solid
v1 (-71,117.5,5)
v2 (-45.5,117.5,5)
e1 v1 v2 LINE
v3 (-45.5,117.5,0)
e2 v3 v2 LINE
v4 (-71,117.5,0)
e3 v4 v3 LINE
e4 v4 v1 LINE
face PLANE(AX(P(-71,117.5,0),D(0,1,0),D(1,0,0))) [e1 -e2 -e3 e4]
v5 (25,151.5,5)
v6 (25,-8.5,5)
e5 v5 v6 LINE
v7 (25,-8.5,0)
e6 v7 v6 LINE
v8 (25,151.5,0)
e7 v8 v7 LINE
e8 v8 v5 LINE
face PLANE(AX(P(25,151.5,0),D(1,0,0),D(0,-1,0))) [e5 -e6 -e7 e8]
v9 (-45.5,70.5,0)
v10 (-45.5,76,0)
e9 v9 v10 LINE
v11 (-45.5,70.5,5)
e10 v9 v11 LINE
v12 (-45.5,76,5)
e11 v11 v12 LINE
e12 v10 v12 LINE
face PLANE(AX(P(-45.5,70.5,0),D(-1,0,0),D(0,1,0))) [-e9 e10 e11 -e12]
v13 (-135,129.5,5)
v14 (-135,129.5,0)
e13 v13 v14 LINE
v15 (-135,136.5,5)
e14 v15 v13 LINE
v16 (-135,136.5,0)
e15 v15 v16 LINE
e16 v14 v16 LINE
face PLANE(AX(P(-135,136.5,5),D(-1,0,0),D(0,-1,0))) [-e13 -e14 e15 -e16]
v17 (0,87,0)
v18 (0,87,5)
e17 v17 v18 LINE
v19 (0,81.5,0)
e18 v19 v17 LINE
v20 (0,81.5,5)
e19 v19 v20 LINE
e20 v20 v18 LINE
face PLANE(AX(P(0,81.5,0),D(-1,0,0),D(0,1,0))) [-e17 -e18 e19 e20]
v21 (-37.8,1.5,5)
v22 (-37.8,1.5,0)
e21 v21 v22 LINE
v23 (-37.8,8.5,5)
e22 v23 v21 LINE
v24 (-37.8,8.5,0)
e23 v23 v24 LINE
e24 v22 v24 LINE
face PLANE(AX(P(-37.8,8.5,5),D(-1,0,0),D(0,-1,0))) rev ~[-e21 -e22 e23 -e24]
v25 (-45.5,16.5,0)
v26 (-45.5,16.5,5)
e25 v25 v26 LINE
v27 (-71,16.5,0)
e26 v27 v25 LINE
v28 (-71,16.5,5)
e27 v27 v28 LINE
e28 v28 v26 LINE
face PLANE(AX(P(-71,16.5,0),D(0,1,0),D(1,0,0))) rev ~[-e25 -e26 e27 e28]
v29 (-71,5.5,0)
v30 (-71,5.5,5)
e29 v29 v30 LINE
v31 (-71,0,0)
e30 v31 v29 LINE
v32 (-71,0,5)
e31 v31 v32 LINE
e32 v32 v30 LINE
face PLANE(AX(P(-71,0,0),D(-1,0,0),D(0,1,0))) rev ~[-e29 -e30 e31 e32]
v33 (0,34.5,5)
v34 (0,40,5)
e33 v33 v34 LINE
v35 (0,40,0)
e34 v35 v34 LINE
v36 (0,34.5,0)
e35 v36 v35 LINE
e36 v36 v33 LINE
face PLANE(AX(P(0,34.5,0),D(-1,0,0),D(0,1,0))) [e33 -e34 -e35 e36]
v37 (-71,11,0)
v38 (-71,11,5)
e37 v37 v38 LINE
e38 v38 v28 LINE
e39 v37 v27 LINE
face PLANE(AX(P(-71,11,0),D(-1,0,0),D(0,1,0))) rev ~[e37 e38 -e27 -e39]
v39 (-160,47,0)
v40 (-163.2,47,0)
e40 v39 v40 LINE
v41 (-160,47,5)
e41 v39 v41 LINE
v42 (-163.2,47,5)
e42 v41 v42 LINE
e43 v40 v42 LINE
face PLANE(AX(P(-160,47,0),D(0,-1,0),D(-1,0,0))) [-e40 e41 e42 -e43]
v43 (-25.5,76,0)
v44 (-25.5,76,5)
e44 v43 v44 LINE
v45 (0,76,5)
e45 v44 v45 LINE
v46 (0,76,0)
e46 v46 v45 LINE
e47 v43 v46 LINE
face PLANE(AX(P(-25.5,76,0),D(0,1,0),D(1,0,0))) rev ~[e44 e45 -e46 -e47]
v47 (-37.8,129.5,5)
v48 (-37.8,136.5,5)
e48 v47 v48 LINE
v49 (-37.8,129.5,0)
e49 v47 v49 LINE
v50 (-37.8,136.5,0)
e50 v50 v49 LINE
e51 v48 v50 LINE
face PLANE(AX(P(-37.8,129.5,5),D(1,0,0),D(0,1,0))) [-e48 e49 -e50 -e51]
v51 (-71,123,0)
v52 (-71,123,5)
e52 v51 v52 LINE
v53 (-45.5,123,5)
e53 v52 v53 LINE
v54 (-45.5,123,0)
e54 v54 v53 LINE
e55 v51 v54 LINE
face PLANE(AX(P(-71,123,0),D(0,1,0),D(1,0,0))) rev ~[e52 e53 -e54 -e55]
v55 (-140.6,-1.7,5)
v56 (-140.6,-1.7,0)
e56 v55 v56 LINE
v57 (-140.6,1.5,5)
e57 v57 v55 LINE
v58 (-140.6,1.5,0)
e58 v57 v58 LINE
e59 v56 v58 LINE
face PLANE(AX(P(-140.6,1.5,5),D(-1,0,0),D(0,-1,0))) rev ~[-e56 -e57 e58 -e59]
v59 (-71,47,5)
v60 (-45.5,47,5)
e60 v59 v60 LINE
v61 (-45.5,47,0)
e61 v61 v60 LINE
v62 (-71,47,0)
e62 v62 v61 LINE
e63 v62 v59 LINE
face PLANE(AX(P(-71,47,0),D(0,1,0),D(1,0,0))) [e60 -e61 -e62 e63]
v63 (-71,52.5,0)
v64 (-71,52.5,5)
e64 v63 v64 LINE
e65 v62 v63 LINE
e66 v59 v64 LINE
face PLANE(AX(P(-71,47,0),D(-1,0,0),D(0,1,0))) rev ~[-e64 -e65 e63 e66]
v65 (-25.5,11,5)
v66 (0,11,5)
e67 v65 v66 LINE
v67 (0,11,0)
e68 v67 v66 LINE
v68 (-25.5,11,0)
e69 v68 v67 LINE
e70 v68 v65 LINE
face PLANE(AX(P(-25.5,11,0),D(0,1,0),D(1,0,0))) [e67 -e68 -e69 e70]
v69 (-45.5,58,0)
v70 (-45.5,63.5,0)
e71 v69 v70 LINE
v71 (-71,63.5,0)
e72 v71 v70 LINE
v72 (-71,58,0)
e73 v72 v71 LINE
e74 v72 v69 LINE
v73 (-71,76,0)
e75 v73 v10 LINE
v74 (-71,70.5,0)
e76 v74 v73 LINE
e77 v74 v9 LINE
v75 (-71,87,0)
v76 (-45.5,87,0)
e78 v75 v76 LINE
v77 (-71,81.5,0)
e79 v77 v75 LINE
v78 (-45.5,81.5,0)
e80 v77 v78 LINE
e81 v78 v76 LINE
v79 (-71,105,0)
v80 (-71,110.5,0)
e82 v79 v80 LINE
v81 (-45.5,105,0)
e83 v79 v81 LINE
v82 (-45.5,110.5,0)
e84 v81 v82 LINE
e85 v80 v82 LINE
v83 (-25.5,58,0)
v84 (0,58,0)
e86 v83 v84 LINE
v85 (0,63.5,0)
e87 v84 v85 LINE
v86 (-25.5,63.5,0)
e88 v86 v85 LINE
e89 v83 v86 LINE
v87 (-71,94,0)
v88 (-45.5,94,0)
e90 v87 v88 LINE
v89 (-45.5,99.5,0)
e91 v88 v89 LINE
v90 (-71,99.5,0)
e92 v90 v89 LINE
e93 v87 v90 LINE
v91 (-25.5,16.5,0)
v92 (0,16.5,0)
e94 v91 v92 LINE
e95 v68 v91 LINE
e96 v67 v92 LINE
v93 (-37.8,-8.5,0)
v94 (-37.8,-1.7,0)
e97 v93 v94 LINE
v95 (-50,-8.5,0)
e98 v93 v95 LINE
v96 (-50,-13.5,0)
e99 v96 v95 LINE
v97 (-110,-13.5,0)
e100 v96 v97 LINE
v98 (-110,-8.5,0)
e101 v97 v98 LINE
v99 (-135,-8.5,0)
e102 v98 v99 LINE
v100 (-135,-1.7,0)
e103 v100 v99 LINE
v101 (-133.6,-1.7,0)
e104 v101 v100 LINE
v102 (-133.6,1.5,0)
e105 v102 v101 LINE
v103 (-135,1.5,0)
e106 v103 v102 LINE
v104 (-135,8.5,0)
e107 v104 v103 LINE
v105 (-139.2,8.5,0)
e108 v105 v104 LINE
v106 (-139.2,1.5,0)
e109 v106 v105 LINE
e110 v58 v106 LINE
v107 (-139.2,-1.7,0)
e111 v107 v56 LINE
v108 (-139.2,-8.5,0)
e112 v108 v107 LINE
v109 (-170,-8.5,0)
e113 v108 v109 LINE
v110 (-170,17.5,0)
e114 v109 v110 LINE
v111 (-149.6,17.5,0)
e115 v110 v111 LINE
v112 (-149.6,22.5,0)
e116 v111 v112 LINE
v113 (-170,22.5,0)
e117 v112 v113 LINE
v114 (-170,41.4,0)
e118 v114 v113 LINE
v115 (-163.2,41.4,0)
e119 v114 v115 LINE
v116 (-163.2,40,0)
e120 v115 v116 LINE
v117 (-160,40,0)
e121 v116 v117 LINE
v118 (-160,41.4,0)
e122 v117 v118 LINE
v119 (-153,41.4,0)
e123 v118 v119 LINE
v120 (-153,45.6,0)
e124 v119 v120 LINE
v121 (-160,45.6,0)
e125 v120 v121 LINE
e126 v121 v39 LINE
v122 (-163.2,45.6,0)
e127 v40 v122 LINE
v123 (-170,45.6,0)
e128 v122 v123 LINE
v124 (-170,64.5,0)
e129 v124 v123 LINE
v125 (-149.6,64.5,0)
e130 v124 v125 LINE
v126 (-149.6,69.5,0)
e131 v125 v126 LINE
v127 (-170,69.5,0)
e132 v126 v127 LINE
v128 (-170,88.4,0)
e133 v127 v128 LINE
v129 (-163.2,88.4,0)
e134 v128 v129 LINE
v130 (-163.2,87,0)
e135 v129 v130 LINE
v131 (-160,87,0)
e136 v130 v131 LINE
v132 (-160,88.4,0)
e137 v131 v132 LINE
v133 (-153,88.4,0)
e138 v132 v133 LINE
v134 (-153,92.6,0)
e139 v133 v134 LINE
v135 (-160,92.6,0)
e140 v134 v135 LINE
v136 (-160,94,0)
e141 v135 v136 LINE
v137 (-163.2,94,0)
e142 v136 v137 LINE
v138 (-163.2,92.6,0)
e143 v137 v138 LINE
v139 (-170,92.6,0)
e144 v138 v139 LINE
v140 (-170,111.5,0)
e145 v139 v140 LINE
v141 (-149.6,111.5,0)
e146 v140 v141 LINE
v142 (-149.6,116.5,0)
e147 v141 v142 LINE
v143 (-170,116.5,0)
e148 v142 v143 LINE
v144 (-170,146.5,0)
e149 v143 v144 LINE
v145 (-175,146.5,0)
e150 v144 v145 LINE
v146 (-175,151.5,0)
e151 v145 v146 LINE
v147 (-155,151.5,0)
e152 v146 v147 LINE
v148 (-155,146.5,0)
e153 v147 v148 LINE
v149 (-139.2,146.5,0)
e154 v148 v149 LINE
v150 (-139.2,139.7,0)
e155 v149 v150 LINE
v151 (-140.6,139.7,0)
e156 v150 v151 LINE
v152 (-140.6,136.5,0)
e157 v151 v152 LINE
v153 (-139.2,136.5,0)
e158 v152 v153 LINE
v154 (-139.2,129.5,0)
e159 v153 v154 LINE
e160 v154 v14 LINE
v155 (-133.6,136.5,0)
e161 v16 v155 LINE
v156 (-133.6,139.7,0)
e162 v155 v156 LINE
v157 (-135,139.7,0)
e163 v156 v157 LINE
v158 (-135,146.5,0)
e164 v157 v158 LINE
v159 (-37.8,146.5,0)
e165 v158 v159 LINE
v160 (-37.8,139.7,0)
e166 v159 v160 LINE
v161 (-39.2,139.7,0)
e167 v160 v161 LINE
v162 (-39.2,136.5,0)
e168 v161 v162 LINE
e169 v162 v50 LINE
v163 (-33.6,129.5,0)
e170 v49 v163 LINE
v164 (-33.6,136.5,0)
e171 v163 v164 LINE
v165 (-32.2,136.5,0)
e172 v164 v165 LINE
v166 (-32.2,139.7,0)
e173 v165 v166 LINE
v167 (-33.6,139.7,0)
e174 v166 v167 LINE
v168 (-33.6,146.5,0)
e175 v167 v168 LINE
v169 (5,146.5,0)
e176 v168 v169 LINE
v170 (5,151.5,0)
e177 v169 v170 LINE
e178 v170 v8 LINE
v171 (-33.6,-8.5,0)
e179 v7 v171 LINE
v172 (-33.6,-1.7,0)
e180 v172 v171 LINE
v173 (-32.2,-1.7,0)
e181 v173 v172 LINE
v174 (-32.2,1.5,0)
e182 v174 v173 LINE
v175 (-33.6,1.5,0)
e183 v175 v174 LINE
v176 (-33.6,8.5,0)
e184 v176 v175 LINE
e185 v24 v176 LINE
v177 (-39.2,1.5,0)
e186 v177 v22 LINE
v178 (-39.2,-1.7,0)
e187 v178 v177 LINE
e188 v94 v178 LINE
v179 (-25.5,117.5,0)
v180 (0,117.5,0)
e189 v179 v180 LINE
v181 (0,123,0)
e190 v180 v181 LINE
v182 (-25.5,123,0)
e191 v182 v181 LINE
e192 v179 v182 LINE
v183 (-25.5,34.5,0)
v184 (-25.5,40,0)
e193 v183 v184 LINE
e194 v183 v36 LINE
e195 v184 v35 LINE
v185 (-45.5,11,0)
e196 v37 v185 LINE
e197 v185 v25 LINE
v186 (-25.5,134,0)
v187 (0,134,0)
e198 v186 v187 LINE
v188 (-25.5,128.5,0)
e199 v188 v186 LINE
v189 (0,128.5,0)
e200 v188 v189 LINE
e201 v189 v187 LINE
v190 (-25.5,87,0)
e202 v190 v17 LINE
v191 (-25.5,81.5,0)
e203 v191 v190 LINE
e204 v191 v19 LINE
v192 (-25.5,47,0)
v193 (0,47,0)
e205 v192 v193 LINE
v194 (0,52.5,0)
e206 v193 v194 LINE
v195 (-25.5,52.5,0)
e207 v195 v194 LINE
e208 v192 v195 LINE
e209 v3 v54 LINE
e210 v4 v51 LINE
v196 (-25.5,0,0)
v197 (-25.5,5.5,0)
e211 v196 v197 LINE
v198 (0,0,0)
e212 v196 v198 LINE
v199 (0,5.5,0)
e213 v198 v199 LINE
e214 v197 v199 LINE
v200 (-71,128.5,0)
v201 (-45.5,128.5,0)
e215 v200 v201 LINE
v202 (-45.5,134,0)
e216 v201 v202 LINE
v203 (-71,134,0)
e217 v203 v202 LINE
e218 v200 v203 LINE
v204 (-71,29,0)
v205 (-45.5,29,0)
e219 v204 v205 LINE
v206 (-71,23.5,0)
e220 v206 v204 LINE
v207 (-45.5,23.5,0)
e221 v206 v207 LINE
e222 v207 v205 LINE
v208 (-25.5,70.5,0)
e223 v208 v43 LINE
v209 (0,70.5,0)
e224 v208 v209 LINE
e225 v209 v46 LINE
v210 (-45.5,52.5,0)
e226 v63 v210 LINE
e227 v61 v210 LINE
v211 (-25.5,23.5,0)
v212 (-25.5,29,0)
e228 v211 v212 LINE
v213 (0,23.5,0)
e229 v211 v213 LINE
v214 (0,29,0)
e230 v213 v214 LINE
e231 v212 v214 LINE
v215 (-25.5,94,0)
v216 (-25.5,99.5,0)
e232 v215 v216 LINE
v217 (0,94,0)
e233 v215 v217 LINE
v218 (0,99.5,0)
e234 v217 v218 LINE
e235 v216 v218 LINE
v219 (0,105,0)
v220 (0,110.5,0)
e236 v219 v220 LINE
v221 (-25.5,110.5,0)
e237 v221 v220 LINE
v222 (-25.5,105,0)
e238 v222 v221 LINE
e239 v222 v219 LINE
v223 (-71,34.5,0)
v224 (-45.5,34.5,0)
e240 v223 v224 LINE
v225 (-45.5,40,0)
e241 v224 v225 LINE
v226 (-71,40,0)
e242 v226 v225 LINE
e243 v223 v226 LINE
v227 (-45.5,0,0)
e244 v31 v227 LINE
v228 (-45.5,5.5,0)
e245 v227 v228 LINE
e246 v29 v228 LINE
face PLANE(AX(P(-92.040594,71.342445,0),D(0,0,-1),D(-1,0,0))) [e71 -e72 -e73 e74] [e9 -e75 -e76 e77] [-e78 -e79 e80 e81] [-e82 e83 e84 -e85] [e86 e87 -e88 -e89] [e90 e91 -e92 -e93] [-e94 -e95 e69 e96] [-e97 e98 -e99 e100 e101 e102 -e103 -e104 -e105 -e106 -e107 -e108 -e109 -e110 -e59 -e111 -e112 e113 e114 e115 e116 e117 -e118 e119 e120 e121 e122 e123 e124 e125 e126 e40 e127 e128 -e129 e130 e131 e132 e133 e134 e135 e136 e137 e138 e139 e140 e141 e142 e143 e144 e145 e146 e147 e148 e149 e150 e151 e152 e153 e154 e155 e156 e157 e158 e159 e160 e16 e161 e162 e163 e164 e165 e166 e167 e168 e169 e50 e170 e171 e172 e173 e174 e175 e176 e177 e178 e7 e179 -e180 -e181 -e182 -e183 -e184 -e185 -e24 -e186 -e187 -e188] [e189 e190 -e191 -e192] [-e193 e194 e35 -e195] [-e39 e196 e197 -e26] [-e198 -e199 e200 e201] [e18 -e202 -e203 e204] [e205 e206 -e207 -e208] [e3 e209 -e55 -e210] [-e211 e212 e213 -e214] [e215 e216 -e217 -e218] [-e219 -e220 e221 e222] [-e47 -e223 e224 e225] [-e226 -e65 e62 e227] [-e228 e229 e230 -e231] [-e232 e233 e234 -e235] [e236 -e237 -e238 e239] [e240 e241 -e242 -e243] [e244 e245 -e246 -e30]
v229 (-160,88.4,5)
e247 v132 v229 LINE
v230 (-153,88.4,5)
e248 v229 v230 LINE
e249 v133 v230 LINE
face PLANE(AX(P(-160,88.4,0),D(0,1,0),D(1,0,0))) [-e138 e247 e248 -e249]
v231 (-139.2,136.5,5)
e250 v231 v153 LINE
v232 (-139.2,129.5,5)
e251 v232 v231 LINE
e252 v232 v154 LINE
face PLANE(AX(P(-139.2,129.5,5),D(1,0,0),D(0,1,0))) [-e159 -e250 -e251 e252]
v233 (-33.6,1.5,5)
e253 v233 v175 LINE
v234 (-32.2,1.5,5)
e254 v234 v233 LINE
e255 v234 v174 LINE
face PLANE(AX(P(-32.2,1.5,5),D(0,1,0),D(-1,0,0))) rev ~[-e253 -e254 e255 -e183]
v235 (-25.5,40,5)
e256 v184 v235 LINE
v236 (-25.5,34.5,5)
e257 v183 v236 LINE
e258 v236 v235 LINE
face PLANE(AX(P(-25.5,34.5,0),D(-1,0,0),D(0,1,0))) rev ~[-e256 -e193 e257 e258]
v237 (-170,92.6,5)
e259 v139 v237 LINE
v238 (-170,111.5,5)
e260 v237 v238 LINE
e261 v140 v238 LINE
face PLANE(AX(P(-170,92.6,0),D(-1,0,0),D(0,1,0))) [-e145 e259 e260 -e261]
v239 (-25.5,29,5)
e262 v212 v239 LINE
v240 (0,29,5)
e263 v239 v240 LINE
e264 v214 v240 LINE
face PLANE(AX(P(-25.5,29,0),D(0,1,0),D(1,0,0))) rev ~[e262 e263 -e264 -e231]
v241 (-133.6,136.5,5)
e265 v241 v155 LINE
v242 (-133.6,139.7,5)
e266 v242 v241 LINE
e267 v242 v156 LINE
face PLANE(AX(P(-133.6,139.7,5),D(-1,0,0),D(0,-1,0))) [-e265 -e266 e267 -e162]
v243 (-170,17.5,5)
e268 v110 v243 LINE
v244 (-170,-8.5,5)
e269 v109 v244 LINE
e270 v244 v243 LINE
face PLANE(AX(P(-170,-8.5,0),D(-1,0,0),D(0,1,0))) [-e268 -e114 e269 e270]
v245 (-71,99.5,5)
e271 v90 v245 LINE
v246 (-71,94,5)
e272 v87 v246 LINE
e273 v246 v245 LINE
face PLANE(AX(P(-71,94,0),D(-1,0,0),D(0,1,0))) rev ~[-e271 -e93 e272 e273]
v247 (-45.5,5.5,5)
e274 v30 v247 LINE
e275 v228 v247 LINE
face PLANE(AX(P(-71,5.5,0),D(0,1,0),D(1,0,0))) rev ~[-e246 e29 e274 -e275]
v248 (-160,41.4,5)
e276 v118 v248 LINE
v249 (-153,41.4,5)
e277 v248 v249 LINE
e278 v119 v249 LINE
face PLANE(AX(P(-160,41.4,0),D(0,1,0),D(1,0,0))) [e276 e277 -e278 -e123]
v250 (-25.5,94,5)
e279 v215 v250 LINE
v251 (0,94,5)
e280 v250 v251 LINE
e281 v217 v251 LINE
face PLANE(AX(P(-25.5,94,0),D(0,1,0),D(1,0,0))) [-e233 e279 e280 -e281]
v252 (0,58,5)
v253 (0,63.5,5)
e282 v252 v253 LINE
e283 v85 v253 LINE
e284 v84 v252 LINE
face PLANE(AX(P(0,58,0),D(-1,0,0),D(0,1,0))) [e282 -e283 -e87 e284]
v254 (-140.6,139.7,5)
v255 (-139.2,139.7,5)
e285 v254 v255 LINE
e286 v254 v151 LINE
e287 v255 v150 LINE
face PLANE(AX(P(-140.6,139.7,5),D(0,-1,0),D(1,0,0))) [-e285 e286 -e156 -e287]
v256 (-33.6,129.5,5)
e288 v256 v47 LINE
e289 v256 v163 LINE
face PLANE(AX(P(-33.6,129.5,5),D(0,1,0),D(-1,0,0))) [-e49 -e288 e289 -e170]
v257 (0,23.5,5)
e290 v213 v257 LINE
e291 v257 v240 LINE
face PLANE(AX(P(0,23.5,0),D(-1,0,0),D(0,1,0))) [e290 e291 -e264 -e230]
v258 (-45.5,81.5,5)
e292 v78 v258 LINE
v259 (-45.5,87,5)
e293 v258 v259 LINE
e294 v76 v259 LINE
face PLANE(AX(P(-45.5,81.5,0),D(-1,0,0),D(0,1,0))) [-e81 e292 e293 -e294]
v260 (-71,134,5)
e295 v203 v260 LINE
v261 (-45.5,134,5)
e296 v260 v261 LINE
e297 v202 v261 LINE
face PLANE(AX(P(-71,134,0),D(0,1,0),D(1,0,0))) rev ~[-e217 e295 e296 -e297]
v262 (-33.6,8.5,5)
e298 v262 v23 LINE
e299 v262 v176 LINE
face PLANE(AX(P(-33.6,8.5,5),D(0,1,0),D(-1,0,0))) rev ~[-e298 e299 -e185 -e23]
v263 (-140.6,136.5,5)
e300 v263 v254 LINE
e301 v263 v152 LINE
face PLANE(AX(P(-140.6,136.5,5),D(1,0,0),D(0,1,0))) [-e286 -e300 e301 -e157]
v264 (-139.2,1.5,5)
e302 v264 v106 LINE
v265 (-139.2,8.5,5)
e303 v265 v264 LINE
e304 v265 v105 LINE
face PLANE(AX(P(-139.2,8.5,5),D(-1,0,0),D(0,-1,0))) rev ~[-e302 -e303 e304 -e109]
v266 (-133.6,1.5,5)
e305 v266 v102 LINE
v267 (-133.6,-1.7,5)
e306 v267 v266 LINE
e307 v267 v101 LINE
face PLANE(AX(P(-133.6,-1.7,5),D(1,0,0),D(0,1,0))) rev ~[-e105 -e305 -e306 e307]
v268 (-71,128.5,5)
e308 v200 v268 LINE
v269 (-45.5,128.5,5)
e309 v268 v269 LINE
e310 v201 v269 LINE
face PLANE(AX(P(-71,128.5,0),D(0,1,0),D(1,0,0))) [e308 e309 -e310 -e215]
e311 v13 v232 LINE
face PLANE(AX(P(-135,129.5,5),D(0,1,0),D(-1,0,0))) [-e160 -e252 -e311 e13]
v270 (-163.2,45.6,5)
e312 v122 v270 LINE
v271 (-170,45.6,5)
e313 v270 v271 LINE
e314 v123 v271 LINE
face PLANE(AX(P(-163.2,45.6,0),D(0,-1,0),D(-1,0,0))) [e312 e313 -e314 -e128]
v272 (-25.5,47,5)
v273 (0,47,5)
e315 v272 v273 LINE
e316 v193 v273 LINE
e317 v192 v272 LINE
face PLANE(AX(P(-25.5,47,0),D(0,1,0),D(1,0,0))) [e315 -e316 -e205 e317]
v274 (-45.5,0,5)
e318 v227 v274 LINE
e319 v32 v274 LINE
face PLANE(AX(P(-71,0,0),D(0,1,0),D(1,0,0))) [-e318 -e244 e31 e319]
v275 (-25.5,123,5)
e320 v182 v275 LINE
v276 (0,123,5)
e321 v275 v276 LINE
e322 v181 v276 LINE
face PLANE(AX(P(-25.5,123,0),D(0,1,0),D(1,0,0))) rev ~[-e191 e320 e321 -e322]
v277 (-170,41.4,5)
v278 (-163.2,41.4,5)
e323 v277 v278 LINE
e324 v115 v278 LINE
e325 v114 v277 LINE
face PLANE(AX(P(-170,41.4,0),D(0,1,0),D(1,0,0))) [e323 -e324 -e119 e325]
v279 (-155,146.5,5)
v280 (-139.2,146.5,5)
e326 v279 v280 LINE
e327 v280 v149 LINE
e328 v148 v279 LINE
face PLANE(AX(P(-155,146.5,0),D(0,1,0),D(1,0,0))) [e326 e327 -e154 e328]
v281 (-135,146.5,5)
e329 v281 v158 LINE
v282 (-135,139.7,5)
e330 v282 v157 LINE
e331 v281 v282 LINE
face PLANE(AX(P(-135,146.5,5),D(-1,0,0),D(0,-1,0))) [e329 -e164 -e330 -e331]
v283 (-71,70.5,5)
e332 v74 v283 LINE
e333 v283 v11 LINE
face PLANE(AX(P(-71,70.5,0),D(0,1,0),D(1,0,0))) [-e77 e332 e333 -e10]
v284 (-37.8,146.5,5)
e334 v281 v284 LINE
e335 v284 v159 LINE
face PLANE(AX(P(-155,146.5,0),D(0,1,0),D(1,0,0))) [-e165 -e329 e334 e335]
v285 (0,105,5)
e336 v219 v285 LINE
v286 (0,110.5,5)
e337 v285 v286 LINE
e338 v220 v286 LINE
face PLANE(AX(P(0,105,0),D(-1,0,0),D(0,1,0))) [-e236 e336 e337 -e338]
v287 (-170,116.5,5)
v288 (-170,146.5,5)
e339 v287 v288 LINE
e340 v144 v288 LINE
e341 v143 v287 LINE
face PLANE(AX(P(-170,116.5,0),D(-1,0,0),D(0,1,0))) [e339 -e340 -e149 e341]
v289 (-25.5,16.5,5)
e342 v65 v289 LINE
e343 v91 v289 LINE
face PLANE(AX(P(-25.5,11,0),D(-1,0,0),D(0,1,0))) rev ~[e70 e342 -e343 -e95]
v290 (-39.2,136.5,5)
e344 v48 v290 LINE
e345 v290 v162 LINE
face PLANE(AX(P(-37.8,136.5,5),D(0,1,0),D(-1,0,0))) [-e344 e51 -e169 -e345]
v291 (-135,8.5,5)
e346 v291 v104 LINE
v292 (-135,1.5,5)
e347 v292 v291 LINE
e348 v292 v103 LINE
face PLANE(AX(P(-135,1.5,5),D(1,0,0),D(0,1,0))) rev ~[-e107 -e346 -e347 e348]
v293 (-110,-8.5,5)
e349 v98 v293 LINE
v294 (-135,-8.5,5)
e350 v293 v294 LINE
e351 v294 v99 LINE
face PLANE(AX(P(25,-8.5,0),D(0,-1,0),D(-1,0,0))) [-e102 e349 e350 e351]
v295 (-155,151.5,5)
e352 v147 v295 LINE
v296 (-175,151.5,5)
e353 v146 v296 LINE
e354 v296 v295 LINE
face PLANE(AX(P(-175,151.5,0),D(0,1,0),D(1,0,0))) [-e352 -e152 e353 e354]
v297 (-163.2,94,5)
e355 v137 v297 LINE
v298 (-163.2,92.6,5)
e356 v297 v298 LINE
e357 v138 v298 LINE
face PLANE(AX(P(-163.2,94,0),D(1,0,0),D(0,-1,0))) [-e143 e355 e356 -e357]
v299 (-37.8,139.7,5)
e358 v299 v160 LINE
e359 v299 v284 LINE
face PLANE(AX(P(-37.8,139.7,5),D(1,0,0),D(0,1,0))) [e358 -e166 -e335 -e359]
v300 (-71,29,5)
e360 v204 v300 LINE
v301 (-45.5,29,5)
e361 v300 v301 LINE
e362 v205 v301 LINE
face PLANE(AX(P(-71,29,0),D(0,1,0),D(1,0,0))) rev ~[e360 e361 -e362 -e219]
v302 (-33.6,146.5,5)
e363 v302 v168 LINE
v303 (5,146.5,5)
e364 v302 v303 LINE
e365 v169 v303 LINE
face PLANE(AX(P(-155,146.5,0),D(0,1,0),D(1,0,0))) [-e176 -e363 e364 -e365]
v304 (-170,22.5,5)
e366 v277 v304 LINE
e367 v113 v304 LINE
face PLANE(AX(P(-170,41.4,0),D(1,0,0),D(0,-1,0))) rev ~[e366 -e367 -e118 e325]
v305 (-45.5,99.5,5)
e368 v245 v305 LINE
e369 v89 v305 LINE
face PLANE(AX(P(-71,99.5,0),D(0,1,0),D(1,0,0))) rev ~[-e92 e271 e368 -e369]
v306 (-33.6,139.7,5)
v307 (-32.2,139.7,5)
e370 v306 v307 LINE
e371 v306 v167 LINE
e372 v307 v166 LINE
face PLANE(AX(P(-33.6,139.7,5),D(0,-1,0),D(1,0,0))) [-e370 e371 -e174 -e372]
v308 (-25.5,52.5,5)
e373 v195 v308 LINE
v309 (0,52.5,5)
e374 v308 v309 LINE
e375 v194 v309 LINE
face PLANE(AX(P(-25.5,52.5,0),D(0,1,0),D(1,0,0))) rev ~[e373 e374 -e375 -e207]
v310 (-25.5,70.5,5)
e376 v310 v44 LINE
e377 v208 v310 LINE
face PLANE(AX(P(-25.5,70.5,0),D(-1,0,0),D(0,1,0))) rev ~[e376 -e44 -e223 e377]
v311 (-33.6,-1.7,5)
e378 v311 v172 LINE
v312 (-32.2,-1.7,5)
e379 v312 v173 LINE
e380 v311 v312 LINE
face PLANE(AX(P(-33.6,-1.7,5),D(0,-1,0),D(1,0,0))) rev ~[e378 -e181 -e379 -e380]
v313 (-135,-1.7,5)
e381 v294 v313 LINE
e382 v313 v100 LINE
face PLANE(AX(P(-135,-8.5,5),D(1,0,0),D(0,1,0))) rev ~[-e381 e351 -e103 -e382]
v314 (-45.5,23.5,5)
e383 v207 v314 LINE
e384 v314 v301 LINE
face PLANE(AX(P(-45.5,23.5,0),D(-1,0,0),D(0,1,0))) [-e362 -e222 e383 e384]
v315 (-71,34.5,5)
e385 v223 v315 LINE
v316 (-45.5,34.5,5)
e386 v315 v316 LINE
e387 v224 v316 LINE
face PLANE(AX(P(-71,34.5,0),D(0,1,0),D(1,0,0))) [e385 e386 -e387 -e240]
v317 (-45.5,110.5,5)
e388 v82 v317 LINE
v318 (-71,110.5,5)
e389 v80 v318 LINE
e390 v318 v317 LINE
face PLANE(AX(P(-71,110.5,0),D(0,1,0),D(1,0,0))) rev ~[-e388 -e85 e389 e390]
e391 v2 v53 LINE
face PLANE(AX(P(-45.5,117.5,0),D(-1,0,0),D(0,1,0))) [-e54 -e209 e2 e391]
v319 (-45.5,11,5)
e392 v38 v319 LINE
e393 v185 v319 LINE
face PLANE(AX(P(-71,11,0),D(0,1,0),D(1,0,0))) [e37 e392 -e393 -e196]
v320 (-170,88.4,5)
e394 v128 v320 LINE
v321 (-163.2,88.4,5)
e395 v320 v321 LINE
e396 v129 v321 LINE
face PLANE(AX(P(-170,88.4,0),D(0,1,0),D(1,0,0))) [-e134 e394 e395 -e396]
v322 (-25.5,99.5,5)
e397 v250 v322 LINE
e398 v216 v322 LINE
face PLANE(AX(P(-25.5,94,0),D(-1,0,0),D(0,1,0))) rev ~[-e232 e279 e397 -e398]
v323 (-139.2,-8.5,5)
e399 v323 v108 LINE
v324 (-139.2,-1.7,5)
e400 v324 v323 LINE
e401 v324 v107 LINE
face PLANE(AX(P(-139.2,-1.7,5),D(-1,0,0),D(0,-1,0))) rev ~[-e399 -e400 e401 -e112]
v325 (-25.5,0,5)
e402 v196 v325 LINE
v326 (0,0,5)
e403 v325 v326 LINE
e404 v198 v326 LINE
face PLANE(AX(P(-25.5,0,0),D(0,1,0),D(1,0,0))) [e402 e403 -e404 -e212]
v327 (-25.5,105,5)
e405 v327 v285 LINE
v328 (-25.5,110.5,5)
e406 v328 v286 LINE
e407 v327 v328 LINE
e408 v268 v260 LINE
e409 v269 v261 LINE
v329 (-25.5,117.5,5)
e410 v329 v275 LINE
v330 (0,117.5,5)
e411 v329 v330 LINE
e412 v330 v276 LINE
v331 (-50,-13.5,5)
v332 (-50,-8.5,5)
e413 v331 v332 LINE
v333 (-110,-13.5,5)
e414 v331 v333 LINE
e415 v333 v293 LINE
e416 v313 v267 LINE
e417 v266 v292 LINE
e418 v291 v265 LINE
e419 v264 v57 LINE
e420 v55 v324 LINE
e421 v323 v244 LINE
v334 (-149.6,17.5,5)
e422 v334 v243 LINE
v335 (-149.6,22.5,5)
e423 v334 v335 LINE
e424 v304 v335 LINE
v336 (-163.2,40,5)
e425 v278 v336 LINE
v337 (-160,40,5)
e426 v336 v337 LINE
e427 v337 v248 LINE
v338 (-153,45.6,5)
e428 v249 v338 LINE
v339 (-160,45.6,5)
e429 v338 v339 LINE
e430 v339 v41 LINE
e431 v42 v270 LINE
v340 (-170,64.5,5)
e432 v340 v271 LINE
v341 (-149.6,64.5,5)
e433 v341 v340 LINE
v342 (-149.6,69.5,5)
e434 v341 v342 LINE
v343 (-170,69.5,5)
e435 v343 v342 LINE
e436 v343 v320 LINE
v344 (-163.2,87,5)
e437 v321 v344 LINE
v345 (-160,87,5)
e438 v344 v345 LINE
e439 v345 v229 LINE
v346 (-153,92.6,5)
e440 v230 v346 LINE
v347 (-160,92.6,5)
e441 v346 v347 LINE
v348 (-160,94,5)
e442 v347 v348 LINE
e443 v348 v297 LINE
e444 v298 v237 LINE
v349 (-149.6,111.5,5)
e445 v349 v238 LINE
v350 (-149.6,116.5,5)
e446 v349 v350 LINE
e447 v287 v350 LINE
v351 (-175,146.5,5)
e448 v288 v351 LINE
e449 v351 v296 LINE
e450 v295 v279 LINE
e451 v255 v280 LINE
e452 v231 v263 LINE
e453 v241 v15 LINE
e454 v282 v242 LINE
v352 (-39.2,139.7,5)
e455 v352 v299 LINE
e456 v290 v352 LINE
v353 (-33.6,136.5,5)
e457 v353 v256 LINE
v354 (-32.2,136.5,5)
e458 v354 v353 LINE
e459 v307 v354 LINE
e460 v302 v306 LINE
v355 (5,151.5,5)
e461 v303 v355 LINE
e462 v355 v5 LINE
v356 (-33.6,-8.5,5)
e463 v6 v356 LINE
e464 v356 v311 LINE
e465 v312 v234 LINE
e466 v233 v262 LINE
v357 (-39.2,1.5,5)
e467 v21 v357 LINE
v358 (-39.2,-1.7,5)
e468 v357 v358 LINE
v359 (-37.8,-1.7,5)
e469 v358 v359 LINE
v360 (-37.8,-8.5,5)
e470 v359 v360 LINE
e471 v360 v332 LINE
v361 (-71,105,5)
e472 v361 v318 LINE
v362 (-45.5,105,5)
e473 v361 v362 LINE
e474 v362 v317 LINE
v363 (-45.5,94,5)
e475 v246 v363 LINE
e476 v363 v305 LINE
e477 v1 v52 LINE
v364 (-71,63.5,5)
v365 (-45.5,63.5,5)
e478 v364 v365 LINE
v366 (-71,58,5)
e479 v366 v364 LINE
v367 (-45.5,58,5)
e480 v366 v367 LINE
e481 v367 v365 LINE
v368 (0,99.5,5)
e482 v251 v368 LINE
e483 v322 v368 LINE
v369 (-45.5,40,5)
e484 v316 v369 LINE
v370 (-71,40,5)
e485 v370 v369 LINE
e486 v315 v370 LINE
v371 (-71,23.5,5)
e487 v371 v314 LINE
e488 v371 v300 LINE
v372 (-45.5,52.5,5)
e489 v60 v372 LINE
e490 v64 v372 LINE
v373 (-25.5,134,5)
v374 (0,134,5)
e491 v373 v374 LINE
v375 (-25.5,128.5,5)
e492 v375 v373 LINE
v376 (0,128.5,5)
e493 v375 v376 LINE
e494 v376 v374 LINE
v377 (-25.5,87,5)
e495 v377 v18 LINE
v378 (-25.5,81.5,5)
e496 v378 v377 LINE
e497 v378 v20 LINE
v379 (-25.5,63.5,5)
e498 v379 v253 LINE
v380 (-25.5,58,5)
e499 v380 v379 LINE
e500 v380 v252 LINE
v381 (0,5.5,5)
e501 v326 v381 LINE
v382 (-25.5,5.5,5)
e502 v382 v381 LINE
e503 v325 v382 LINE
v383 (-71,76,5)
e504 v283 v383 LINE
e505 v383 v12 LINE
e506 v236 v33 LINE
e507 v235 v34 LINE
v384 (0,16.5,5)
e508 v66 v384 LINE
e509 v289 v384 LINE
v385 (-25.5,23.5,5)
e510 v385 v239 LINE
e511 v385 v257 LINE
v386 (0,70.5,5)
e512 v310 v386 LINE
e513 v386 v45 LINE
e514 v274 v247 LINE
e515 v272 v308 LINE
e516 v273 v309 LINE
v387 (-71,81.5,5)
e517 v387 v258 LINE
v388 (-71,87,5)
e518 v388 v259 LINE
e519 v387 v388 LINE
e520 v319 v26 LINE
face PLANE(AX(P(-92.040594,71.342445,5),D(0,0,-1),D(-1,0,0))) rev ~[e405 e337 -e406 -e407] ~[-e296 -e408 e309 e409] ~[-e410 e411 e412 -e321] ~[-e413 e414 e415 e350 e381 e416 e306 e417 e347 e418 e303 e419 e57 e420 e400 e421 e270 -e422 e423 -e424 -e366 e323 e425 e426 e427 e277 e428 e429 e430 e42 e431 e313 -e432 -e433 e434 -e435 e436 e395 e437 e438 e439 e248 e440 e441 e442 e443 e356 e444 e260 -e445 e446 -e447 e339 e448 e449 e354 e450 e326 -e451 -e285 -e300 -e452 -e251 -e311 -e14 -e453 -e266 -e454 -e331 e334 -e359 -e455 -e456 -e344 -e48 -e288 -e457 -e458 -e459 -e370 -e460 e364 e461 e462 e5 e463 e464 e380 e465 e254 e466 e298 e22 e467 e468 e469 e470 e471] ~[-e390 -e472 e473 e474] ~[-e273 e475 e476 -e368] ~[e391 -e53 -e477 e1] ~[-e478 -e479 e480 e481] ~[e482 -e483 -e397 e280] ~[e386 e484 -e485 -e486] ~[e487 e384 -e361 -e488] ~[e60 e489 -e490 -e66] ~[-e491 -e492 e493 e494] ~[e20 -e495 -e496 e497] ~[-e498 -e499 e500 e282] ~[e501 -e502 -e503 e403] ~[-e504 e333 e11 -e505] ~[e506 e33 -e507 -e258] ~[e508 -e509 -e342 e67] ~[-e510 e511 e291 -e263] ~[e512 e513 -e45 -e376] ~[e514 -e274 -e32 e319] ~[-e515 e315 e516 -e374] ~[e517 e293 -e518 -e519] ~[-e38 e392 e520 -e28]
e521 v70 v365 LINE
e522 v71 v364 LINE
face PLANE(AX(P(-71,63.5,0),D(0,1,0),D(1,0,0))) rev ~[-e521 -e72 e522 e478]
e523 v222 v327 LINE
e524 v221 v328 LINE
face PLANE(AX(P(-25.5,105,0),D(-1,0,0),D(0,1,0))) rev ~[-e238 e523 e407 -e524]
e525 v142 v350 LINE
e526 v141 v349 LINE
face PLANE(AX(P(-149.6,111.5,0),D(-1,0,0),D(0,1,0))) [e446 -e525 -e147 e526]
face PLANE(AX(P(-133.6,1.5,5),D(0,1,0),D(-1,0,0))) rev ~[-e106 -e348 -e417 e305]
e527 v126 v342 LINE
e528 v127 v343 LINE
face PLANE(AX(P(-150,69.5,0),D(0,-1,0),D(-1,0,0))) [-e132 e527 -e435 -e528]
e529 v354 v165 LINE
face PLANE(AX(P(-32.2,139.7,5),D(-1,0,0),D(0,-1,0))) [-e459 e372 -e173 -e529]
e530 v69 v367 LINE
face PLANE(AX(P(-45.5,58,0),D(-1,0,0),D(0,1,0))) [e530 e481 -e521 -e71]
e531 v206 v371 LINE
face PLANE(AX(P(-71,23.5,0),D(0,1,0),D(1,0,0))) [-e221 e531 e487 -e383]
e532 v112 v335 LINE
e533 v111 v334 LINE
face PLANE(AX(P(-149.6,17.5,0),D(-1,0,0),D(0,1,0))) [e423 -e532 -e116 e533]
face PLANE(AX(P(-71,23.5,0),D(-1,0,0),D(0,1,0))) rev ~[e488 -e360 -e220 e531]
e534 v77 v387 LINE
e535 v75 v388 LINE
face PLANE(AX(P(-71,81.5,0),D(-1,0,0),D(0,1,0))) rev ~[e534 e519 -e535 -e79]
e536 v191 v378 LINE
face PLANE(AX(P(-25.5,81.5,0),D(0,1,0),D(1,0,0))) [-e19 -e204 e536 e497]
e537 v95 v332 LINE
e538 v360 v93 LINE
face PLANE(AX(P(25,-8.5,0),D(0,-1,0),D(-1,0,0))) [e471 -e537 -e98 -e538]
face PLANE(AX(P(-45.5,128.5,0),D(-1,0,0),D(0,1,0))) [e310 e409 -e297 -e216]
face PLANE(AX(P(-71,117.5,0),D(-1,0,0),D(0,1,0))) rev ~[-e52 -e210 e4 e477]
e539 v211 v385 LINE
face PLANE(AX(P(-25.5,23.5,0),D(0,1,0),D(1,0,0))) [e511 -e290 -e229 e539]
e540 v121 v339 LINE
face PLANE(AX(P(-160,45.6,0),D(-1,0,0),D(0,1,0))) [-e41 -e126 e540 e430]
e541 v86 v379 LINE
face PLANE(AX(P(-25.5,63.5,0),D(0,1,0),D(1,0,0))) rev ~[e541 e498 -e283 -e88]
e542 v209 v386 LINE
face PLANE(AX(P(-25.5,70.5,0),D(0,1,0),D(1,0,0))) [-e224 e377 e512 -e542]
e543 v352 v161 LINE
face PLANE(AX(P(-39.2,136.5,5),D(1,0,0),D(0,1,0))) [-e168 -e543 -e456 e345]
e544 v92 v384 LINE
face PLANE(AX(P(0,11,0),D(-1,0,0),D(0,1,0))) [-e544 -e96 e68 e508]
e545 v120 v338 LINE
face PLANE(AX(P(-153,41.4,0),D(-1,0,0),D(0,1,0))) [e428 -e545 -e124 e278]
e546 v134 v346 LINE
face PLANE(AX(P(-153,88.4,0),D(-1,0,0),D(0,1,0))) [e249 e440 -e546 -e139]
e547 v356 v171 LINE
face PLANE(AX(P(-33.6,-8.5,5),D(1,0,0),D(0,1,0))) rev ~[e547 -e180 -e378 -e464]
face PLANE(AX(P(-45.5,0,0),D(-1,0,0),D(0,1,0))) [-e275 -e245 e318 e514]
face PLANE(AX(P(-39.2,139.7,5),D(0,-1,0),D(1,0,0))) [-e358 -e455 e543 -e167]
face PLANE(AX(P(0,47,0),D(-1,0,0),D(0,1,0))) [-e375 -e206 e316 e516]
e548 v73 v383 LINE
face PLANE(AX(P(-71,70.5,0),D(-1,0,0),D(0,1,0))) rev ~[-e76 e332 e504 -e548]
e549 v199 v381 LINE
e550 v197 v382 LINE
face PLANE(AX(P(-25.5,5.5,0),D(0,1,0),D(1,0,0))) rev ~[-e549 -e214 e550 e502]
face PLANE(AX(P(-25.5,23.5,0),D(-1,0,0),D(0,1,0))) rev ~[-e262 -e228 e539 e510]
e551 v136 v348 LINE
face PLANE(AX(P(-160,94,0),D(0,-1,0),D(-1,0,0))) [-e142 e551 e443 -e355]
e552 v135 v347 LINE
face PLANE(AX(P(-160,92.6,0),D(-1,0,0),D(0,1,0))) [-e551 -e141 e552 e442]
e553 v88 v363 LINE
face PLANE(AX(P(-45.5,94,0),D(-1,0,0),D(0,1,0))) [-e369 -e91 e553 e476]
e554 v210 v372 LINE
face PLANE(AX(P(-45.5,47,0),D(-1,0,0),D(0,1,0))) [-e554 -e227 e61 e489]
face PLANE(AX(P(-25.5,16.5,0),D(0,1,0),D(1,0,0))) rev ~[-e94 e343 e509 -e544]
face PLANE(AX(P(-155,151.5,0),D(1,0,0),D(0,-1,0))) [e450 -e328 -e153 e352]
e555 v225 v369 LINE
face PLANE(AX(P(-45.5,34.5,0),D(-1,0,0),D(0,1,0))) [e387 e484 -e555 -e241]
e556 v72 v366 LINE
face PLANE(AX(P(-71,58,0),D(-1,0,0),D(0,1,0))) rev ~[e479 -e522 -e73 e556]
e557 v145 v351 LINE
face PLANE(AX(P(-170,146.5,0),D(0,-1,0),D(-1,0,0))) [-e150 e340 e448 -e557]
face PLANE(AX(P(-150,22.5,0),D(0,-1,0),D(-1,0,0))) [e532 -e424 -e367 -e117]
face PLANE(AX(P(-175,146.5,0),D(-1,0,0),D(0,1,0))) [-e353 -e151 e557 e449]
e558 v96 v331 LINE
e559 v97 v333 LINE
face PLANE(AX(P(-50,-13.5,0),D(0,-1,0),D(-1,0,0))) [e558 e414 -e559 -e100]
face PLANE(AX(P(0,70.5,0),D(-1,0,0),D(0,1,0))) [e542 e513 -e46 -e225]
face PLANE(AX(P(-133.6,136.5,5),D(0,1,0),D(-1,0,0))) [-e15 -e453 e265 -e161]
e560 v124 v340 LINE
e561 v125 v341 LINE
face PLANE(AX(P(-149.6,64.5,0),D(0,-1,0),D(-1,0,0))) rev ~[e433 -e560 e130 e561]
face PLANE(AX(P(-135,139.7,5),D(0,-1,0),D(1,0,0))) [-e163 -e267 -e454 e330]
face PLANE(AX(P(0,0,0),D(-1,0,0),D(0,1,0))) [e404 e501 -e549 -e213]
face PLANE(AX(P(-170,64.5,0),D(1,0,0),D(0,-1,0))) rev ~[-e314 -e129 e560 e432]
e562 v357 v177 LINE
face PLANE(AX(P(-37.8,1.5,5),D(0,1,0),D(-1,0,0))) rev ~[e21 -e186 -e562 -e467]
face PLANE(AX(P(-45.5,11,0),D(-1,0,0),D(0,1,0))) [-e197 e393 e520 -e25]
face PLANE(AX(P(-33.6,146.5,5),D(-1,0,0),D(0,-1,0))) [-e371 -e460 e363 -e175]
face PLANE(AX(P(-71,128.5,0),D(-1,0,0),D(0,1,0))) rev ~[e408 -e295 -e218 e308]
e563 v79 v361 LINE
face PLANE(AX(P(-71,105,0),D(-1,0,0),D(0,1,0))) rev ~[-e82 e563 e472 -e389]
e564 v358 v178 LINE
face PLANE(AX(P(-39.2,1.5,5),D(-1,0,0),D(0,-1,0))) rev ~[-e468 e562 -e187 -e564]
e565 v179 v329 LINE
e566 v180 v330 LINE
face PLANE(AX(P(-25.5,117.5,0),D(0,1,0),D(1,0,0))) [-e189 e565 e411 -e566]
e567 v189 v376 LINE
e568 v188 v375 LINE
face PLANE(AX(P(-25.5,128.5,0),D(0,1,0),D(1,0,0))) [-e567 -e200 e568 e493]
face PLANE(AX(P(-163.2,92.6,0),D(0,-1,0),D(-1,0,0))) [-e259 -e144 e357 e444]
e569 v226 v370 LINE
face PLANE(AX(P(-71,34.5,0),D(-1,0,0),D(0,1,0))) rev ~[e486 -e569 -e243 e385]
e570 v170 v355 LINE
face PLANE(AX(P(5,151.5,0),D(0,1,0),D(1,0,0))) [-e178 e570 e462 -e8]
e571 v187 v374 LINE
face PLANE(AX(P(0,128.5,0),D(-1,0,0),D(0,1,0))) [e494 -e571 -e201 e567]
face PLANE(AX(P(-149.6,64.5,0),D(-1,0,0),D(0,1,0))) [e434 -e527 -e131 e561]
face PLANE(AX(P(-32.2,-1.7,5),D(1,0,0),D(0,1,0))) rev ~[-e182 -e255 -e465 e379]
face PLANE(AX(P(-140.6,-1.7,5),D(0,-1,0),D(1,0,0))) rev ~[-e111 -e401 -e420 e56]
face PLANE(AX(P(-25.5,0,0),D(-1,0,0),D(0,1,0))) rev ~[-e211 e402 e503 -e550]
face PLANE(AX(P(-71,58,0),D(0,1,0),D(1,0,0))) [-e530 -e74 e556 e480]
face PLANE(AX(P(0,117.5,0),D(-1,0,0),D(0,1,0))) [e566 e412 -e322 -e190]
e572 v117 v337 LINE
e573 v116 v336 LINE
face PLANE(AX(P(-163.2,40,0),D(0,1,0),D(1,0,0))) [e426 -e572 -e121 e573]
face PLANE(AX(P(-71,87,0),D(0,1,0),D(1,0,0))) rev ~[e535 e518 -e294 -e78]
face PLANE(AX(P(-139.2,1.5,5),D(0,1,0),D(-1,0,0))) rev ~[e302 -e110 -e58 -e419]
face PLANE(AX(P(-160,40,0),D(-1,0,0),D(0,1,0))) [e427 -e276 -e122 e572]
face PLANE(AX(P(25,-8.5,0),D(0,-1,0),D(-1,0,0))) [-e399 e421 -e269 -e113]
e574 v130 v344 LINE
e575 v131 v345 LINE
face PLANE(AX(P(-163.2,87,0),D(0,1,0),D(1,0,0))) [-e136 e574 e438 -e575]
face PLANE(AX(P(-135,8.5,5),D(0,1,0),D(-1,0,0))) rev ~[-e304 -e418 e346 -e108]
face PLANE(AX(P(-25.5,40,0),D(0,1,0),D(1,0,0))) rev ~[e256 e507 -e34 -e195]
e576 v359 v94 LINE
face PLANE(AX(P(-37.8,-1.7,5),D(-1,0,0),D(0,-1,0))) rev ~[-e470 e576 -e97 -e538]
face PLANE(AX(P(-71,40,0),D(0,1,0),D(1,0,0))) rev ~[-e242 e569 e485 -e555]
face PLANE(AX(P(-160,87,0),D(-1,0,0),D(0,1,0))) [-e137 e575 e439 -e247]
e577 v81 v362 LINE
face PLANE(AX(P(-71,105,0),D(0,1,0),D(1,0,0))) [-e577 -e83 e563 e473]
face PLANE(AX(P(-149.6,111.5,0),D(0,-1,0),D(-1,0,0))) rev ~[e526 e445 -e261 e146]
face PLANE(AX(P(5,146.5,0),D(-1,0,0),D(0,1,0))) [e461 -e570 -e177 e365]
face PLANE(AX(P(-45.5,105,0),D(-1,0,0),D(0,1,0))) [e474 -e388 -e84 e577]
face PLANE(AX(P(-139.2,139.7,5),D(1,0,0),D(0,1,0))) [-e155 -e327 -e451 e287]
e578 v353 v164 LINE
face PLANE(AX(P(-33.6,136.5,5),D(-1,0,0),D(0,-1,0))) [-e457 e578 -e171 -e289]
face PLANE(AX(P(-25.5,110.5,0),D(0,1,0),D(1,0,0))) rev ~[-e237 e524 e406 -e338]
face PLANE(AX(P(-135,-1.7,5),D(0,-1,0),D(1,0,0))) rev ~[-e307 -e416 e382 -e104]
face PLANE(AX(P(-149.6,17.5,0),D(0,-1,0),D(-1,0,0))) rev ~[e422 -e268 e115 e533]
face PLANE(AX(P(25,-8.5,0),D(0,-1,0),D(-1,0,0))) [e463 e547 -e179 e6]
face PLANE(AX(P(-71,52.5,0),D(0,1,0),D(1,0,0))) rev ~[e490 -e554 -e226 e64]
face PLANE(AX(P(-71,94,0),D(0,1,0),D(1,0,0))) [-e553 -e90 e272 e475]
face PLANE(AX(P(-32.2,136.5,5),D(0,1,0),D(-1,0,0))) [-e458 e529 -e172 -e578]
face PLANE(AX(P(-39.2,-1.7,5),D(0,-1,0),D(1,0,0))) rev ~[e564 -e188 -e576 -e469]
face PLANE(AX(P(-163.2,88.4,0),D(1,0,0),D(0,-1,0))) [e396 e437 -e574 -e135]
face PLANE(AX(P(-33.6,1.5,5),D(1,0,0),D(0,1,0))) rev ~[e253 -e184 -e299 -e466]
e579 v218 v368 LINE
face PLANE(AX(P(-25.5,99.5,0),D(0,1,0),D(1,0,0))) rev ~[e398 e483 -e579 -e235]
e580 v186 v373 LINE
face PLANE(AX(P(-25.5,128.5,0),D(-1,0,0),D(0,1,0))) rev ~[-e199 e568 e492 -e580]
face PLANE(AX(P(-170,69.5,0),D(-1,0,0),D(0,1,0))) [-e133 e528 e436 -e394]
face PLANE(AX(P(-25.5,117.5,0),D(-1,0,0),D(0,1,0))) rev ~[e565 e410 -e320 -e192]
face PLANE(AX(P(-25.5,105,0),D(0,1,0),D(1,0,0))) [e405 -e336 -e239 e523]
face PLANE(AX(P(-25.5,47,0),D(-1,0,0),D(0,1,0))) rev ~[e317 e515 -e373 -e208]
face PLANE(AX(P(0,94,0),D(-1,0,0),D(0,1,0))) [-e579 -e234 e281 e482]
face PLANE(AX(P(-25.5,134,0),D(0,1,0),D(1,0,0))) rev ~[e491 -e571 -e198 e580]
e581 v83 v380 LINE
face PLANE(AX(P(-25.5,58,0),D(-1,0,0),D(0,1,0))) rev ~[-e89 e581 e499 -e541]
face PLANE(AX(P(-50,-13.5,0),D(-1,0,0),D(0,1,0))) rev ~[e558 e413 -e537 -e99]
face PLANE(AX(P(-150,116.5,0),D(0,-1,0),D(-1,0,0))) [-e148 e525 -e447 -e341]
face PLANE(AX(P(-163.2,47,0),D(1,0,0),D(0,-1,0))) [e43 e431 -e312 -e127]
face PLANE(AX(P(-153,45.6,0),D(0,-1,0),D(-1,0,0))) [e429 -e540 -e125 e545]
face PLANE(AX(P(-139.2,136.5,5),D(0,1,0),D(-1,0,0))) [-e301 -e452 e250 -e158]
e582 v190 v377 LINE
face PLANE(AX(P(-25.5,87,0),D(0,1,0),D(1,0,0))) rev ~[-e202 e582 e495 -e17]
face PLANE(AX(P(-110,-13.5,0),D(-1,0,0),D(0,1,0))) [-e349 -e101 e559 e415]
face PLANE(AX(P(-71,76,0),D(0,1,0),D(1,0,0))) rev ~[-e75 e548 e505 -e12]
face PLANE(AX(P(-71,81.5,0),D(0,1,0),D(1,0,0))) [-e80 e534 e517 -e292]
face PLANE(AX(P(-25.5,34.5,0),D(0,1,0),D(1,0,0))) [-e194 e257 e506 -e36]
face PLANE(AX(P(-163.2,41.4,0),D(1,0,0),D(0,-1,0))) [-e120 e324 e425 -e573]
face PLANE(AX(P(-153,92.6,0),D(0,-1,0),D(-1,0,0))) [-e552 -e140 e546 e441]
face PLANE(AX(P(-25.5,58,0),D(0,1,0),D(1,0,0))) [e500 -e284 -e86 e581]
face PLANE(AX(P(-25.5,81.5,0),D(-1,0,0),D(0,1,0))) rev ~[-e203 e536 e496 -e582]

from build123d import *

# Parameters (mm, degrees)
SKETCH1_W           = 25.5
SKETCH1_H           = 5.5
BOSS_EXTRUDE1_DEPTH = 5
CUT_EXTRUDE1_DEPTH  = 10
SKETCH5_W           = 60
SKETCH5_H           = 5
BOSS_EXTRUDE2_DEPTH = 5
SKETCH6_W           = 20.4
SKETCH6_H           = 5
CUT_EXTRUDE2_DEPTH  = 10


with BuildPart() as part:
    # Sketch1 → Boss-Extrude1 (new body)
    with BuildSketch(Plane.XY):
        Polygon((-155, 151.5), (-155, 146.5), (5, 146.5), (5, 151.5), (25, 151.5), (25, -8.5), (-170, -8.5), (-170, 17.5), (-150, 17.5), (-150, 22.5), (-170, 22.5), (-170, 41), (-170, 41.4), (-163.2, 41.4), (-163.2, 40), (-160, 40), (-160, 41.4), (-153, 41.4), (-153, 45.6), (-160, 45.6), (-160, 47), (-163.2, 47), (-163.2, 45.6), (-170, 45.6), (-170, 46), (-170, 64.5), (-150, 64.5), (-150, 69.5), (-170, 69.5), (-170, 88.4), (-163.2, 88.4), (-163.2, 87), (-160, 87), (-160, 88.4), (-153, 88.4), (-153, 92.6), (-160, 92.6), (-160, 94), (-163.2, 94), (-163.2, 92.6), (-170, 92.6), (-170, 111.5), (-150, 111.5), (-150, 116.5), (-170, 116.5), (-170, 146.5), (-175, 146.5), (-175, 151.5), align=None)
        with Locations((-58.25, 13.75)):
            Rectangle(SKETCH1_W, SKETCH1_H, mode=Mode.SUBTRACT)
        with Locations((-12.75, 2.75)):
            Rectangle(SKETCH1_W, SKETCH1_H, mode=Mode.SUBTRACT)
        with Locations((-58.25, 2.75)):
            Rectangle(SKETCH1_W, SKETCH1_H, mode=Mode.SUBTRACT)
        with Locations((-12.75, 13.75)):
            Rectangle(SKETCH1_W, SKETCH1_H, mode=Mode.SUBTRACT)
        with Locations((-12.75, 26.25)):
            Rectangle(SKETCH1_W, SKETCH1_H, mode=Mode.SUBTRACT)
        with Locations((-58.25, 26.25)):
            Rectangle(SKETCH1_W, SKETCH1_H, mode=Mode.SUBTRACT)
        with Locations((-58.25, 37.25)):
            Rectangle(SKETCH1_W, SKETCH1_H, mode=Mode.SUBTRACT)
        with Locations((-12.75, 37.25)):
            Rectangle(SKETCH1_W, SKETCH1_H, mode=Mode.SUBTRACT)
        with Locations((-12.75, 49.75)):
            Rectangle(SKETCH1_W, SKETCH1_H, mode=Mode.SUBTRACT)
        with Locations((-58.25, 49.75)):
            Rectangle(SKETCH1_W, SKETCH1_H, mode=Mode.SUBTRACT)
        with Locations((-58.25, 60.75)):
            Rectangle(SKETCH1_W, SKETCH1_H, mode=Mode.SUBTRACT)
        with Locations((-12.75, 60.75)):
            Rectangle(SKETCH1_W, SKETCH1_H, mode=Mode.SUBTRACT)
        with Locations((-12.75, 73.25)):
            Rectangle(SKETCH1_W, SKETCH1_H, mode=Mode.SUBTRACT)
        with Locations((-58.25, 73.25)):
            Rectangle(SKETCH1_W, SKETCH1_H, mode=Mode.SUBTRACT)
        with Locations((-58.25, 84.25)):
            Rectangle(SKETCH1_W, SKETCH1_H, mode=Mode.SUBTRACT)
        with Locations((-12.75, 84.25)):
            Rectangle(SKETCH1_W, SKETCH1_H, mode=Mode.SUBTRACT)
        with Locations((-12.75, 96.75)):
            Rectangle(SKETCH1_W, SKETCH1_H, mode=Mode.SUBTRACT)
        with Locations((-58.25, 96.75)):
            Rectangle(SKETCH1_W, SKETCH1_H, mode=Mode.SUBTRACT)
        with Locations((-58.25, 107.75)):
            Rectangle(SKETCH1_W, SKETCH1_H, mode=Mode.SUBTRACT)
        with Locations((-12.75, 107.75)):
            Rectangle(SKETCH1_W, SKETCH1_H, mode=Mode.SUBTRACT)
        with Locations((-12.75, 120.25)):
            Rectangle(SKETCH1_W, SKETCH1_H, mode=Mode.SUBTRACT)
        with Locations((-58.25, 120.25)):
            Rectangle(SKETCH1_W, SKETCH1_H, mode=Mode.SUBTRACT)
        with Locations((-58.25, 131.25)):
            Rectangle(SKETCH1_W, SKETCH1_H, mode=Mode.SUBTRACT)
        with Locations((-12.75, 131.25)):
            Rectangle(SKETCH1_W, SKETCH1_H, mode=Mode.SUBTRACT)
    extrude(amount=BOSS_EXTRUDE1_DEPTH)

    # Sketch4 → Cut-Extrude1 (cut)
    with BuildSketch(Plane.XY.offset(5)):
        Polygon((-37.8, 129.5), (-37.8, 136.5), (-39.2, 136.5), (-39.2, 139.7), (-37.8, 139.7), (-37.8, 146.5), (-33.6, 146.5), (-33.6, 139.7), (-32.2, 139.7), (-32.2, 136.5), (-33.6, 136.5), (-33.6, 129.5), align=None)
        Polygon((-139.2, 139.7), (-139.2, 146.5), (-135, 146.5), (-135, 139.7), (-133.6, 139.7), (-133.6, 136.5), (-135, 136.5), (-135, 129.5), (-139.2, 129.5), (-139.2, 136.5), (-140.6, 136.5), (-140.6, 139.7), align=None)
        Polygon((-37.8, -8.5), (-33.6, -8.5), (-33.6, -1.7), (-32.2, -1.7), (-32.2, 1.5), (-33.6, 1.5), (-33.6, 8.5), (-37.8, 8.5), (-37.8, 1.5), (-39.2, 1.5), (-39.2, -1.7), (-37.8, -1.7), align=None)
        Polygon((-139.2, -8.5), (-135, -8.5), (-135, -1.7), (-133.6, -1.7), (-133.6, 1.5), (-135, 1.5), (-135, 8.5), (-139.2, 8.5), (-139.2, 1.5), (-140.6, 1.5), (-140.6, -1.7), (-139.2, -1.7), align=None)
    extrude(amount=-CUT_EXTRUDE1_DEPTH, mode=Mode.SUBTRACT)

    # Sketch5 → Boss-Extrude2 (add)
    with BuildSketch(Plane(origin=(0, 0, 0), x_dir=(-1, 0, 0), z_dir=(0, 0, -1))):
        with Locations((80, -11)):
            Rectangle(SKETCH5_W, SKETCH5_H)
    extrude(amount=-BOSS_EXTRUDE2_DEPTH)

    # Sketch6 → Cut-Extrude2 (cut)
    with BuildSketch(Plane(origin=(0, 0, 0), x_dir=(-1, 0, 0), z_dir=(0, 0, -1))):
        with Locations((159.8, 114)):
            Rectangle(SKETCH6_W, SKETCH6_H)
        with Locations((159.8, 67)):
            Rectangle(SKETCH6_W, SKETCH6_H)
        with Locations((159.8, 20)):
            Rectangle(SKETCH6_W, SKETCH6_H)
    extrude(amount=-CUT_EXTRUDE2_DEPTH, mode=Mode.SUBTRACT)


solid = part.part
